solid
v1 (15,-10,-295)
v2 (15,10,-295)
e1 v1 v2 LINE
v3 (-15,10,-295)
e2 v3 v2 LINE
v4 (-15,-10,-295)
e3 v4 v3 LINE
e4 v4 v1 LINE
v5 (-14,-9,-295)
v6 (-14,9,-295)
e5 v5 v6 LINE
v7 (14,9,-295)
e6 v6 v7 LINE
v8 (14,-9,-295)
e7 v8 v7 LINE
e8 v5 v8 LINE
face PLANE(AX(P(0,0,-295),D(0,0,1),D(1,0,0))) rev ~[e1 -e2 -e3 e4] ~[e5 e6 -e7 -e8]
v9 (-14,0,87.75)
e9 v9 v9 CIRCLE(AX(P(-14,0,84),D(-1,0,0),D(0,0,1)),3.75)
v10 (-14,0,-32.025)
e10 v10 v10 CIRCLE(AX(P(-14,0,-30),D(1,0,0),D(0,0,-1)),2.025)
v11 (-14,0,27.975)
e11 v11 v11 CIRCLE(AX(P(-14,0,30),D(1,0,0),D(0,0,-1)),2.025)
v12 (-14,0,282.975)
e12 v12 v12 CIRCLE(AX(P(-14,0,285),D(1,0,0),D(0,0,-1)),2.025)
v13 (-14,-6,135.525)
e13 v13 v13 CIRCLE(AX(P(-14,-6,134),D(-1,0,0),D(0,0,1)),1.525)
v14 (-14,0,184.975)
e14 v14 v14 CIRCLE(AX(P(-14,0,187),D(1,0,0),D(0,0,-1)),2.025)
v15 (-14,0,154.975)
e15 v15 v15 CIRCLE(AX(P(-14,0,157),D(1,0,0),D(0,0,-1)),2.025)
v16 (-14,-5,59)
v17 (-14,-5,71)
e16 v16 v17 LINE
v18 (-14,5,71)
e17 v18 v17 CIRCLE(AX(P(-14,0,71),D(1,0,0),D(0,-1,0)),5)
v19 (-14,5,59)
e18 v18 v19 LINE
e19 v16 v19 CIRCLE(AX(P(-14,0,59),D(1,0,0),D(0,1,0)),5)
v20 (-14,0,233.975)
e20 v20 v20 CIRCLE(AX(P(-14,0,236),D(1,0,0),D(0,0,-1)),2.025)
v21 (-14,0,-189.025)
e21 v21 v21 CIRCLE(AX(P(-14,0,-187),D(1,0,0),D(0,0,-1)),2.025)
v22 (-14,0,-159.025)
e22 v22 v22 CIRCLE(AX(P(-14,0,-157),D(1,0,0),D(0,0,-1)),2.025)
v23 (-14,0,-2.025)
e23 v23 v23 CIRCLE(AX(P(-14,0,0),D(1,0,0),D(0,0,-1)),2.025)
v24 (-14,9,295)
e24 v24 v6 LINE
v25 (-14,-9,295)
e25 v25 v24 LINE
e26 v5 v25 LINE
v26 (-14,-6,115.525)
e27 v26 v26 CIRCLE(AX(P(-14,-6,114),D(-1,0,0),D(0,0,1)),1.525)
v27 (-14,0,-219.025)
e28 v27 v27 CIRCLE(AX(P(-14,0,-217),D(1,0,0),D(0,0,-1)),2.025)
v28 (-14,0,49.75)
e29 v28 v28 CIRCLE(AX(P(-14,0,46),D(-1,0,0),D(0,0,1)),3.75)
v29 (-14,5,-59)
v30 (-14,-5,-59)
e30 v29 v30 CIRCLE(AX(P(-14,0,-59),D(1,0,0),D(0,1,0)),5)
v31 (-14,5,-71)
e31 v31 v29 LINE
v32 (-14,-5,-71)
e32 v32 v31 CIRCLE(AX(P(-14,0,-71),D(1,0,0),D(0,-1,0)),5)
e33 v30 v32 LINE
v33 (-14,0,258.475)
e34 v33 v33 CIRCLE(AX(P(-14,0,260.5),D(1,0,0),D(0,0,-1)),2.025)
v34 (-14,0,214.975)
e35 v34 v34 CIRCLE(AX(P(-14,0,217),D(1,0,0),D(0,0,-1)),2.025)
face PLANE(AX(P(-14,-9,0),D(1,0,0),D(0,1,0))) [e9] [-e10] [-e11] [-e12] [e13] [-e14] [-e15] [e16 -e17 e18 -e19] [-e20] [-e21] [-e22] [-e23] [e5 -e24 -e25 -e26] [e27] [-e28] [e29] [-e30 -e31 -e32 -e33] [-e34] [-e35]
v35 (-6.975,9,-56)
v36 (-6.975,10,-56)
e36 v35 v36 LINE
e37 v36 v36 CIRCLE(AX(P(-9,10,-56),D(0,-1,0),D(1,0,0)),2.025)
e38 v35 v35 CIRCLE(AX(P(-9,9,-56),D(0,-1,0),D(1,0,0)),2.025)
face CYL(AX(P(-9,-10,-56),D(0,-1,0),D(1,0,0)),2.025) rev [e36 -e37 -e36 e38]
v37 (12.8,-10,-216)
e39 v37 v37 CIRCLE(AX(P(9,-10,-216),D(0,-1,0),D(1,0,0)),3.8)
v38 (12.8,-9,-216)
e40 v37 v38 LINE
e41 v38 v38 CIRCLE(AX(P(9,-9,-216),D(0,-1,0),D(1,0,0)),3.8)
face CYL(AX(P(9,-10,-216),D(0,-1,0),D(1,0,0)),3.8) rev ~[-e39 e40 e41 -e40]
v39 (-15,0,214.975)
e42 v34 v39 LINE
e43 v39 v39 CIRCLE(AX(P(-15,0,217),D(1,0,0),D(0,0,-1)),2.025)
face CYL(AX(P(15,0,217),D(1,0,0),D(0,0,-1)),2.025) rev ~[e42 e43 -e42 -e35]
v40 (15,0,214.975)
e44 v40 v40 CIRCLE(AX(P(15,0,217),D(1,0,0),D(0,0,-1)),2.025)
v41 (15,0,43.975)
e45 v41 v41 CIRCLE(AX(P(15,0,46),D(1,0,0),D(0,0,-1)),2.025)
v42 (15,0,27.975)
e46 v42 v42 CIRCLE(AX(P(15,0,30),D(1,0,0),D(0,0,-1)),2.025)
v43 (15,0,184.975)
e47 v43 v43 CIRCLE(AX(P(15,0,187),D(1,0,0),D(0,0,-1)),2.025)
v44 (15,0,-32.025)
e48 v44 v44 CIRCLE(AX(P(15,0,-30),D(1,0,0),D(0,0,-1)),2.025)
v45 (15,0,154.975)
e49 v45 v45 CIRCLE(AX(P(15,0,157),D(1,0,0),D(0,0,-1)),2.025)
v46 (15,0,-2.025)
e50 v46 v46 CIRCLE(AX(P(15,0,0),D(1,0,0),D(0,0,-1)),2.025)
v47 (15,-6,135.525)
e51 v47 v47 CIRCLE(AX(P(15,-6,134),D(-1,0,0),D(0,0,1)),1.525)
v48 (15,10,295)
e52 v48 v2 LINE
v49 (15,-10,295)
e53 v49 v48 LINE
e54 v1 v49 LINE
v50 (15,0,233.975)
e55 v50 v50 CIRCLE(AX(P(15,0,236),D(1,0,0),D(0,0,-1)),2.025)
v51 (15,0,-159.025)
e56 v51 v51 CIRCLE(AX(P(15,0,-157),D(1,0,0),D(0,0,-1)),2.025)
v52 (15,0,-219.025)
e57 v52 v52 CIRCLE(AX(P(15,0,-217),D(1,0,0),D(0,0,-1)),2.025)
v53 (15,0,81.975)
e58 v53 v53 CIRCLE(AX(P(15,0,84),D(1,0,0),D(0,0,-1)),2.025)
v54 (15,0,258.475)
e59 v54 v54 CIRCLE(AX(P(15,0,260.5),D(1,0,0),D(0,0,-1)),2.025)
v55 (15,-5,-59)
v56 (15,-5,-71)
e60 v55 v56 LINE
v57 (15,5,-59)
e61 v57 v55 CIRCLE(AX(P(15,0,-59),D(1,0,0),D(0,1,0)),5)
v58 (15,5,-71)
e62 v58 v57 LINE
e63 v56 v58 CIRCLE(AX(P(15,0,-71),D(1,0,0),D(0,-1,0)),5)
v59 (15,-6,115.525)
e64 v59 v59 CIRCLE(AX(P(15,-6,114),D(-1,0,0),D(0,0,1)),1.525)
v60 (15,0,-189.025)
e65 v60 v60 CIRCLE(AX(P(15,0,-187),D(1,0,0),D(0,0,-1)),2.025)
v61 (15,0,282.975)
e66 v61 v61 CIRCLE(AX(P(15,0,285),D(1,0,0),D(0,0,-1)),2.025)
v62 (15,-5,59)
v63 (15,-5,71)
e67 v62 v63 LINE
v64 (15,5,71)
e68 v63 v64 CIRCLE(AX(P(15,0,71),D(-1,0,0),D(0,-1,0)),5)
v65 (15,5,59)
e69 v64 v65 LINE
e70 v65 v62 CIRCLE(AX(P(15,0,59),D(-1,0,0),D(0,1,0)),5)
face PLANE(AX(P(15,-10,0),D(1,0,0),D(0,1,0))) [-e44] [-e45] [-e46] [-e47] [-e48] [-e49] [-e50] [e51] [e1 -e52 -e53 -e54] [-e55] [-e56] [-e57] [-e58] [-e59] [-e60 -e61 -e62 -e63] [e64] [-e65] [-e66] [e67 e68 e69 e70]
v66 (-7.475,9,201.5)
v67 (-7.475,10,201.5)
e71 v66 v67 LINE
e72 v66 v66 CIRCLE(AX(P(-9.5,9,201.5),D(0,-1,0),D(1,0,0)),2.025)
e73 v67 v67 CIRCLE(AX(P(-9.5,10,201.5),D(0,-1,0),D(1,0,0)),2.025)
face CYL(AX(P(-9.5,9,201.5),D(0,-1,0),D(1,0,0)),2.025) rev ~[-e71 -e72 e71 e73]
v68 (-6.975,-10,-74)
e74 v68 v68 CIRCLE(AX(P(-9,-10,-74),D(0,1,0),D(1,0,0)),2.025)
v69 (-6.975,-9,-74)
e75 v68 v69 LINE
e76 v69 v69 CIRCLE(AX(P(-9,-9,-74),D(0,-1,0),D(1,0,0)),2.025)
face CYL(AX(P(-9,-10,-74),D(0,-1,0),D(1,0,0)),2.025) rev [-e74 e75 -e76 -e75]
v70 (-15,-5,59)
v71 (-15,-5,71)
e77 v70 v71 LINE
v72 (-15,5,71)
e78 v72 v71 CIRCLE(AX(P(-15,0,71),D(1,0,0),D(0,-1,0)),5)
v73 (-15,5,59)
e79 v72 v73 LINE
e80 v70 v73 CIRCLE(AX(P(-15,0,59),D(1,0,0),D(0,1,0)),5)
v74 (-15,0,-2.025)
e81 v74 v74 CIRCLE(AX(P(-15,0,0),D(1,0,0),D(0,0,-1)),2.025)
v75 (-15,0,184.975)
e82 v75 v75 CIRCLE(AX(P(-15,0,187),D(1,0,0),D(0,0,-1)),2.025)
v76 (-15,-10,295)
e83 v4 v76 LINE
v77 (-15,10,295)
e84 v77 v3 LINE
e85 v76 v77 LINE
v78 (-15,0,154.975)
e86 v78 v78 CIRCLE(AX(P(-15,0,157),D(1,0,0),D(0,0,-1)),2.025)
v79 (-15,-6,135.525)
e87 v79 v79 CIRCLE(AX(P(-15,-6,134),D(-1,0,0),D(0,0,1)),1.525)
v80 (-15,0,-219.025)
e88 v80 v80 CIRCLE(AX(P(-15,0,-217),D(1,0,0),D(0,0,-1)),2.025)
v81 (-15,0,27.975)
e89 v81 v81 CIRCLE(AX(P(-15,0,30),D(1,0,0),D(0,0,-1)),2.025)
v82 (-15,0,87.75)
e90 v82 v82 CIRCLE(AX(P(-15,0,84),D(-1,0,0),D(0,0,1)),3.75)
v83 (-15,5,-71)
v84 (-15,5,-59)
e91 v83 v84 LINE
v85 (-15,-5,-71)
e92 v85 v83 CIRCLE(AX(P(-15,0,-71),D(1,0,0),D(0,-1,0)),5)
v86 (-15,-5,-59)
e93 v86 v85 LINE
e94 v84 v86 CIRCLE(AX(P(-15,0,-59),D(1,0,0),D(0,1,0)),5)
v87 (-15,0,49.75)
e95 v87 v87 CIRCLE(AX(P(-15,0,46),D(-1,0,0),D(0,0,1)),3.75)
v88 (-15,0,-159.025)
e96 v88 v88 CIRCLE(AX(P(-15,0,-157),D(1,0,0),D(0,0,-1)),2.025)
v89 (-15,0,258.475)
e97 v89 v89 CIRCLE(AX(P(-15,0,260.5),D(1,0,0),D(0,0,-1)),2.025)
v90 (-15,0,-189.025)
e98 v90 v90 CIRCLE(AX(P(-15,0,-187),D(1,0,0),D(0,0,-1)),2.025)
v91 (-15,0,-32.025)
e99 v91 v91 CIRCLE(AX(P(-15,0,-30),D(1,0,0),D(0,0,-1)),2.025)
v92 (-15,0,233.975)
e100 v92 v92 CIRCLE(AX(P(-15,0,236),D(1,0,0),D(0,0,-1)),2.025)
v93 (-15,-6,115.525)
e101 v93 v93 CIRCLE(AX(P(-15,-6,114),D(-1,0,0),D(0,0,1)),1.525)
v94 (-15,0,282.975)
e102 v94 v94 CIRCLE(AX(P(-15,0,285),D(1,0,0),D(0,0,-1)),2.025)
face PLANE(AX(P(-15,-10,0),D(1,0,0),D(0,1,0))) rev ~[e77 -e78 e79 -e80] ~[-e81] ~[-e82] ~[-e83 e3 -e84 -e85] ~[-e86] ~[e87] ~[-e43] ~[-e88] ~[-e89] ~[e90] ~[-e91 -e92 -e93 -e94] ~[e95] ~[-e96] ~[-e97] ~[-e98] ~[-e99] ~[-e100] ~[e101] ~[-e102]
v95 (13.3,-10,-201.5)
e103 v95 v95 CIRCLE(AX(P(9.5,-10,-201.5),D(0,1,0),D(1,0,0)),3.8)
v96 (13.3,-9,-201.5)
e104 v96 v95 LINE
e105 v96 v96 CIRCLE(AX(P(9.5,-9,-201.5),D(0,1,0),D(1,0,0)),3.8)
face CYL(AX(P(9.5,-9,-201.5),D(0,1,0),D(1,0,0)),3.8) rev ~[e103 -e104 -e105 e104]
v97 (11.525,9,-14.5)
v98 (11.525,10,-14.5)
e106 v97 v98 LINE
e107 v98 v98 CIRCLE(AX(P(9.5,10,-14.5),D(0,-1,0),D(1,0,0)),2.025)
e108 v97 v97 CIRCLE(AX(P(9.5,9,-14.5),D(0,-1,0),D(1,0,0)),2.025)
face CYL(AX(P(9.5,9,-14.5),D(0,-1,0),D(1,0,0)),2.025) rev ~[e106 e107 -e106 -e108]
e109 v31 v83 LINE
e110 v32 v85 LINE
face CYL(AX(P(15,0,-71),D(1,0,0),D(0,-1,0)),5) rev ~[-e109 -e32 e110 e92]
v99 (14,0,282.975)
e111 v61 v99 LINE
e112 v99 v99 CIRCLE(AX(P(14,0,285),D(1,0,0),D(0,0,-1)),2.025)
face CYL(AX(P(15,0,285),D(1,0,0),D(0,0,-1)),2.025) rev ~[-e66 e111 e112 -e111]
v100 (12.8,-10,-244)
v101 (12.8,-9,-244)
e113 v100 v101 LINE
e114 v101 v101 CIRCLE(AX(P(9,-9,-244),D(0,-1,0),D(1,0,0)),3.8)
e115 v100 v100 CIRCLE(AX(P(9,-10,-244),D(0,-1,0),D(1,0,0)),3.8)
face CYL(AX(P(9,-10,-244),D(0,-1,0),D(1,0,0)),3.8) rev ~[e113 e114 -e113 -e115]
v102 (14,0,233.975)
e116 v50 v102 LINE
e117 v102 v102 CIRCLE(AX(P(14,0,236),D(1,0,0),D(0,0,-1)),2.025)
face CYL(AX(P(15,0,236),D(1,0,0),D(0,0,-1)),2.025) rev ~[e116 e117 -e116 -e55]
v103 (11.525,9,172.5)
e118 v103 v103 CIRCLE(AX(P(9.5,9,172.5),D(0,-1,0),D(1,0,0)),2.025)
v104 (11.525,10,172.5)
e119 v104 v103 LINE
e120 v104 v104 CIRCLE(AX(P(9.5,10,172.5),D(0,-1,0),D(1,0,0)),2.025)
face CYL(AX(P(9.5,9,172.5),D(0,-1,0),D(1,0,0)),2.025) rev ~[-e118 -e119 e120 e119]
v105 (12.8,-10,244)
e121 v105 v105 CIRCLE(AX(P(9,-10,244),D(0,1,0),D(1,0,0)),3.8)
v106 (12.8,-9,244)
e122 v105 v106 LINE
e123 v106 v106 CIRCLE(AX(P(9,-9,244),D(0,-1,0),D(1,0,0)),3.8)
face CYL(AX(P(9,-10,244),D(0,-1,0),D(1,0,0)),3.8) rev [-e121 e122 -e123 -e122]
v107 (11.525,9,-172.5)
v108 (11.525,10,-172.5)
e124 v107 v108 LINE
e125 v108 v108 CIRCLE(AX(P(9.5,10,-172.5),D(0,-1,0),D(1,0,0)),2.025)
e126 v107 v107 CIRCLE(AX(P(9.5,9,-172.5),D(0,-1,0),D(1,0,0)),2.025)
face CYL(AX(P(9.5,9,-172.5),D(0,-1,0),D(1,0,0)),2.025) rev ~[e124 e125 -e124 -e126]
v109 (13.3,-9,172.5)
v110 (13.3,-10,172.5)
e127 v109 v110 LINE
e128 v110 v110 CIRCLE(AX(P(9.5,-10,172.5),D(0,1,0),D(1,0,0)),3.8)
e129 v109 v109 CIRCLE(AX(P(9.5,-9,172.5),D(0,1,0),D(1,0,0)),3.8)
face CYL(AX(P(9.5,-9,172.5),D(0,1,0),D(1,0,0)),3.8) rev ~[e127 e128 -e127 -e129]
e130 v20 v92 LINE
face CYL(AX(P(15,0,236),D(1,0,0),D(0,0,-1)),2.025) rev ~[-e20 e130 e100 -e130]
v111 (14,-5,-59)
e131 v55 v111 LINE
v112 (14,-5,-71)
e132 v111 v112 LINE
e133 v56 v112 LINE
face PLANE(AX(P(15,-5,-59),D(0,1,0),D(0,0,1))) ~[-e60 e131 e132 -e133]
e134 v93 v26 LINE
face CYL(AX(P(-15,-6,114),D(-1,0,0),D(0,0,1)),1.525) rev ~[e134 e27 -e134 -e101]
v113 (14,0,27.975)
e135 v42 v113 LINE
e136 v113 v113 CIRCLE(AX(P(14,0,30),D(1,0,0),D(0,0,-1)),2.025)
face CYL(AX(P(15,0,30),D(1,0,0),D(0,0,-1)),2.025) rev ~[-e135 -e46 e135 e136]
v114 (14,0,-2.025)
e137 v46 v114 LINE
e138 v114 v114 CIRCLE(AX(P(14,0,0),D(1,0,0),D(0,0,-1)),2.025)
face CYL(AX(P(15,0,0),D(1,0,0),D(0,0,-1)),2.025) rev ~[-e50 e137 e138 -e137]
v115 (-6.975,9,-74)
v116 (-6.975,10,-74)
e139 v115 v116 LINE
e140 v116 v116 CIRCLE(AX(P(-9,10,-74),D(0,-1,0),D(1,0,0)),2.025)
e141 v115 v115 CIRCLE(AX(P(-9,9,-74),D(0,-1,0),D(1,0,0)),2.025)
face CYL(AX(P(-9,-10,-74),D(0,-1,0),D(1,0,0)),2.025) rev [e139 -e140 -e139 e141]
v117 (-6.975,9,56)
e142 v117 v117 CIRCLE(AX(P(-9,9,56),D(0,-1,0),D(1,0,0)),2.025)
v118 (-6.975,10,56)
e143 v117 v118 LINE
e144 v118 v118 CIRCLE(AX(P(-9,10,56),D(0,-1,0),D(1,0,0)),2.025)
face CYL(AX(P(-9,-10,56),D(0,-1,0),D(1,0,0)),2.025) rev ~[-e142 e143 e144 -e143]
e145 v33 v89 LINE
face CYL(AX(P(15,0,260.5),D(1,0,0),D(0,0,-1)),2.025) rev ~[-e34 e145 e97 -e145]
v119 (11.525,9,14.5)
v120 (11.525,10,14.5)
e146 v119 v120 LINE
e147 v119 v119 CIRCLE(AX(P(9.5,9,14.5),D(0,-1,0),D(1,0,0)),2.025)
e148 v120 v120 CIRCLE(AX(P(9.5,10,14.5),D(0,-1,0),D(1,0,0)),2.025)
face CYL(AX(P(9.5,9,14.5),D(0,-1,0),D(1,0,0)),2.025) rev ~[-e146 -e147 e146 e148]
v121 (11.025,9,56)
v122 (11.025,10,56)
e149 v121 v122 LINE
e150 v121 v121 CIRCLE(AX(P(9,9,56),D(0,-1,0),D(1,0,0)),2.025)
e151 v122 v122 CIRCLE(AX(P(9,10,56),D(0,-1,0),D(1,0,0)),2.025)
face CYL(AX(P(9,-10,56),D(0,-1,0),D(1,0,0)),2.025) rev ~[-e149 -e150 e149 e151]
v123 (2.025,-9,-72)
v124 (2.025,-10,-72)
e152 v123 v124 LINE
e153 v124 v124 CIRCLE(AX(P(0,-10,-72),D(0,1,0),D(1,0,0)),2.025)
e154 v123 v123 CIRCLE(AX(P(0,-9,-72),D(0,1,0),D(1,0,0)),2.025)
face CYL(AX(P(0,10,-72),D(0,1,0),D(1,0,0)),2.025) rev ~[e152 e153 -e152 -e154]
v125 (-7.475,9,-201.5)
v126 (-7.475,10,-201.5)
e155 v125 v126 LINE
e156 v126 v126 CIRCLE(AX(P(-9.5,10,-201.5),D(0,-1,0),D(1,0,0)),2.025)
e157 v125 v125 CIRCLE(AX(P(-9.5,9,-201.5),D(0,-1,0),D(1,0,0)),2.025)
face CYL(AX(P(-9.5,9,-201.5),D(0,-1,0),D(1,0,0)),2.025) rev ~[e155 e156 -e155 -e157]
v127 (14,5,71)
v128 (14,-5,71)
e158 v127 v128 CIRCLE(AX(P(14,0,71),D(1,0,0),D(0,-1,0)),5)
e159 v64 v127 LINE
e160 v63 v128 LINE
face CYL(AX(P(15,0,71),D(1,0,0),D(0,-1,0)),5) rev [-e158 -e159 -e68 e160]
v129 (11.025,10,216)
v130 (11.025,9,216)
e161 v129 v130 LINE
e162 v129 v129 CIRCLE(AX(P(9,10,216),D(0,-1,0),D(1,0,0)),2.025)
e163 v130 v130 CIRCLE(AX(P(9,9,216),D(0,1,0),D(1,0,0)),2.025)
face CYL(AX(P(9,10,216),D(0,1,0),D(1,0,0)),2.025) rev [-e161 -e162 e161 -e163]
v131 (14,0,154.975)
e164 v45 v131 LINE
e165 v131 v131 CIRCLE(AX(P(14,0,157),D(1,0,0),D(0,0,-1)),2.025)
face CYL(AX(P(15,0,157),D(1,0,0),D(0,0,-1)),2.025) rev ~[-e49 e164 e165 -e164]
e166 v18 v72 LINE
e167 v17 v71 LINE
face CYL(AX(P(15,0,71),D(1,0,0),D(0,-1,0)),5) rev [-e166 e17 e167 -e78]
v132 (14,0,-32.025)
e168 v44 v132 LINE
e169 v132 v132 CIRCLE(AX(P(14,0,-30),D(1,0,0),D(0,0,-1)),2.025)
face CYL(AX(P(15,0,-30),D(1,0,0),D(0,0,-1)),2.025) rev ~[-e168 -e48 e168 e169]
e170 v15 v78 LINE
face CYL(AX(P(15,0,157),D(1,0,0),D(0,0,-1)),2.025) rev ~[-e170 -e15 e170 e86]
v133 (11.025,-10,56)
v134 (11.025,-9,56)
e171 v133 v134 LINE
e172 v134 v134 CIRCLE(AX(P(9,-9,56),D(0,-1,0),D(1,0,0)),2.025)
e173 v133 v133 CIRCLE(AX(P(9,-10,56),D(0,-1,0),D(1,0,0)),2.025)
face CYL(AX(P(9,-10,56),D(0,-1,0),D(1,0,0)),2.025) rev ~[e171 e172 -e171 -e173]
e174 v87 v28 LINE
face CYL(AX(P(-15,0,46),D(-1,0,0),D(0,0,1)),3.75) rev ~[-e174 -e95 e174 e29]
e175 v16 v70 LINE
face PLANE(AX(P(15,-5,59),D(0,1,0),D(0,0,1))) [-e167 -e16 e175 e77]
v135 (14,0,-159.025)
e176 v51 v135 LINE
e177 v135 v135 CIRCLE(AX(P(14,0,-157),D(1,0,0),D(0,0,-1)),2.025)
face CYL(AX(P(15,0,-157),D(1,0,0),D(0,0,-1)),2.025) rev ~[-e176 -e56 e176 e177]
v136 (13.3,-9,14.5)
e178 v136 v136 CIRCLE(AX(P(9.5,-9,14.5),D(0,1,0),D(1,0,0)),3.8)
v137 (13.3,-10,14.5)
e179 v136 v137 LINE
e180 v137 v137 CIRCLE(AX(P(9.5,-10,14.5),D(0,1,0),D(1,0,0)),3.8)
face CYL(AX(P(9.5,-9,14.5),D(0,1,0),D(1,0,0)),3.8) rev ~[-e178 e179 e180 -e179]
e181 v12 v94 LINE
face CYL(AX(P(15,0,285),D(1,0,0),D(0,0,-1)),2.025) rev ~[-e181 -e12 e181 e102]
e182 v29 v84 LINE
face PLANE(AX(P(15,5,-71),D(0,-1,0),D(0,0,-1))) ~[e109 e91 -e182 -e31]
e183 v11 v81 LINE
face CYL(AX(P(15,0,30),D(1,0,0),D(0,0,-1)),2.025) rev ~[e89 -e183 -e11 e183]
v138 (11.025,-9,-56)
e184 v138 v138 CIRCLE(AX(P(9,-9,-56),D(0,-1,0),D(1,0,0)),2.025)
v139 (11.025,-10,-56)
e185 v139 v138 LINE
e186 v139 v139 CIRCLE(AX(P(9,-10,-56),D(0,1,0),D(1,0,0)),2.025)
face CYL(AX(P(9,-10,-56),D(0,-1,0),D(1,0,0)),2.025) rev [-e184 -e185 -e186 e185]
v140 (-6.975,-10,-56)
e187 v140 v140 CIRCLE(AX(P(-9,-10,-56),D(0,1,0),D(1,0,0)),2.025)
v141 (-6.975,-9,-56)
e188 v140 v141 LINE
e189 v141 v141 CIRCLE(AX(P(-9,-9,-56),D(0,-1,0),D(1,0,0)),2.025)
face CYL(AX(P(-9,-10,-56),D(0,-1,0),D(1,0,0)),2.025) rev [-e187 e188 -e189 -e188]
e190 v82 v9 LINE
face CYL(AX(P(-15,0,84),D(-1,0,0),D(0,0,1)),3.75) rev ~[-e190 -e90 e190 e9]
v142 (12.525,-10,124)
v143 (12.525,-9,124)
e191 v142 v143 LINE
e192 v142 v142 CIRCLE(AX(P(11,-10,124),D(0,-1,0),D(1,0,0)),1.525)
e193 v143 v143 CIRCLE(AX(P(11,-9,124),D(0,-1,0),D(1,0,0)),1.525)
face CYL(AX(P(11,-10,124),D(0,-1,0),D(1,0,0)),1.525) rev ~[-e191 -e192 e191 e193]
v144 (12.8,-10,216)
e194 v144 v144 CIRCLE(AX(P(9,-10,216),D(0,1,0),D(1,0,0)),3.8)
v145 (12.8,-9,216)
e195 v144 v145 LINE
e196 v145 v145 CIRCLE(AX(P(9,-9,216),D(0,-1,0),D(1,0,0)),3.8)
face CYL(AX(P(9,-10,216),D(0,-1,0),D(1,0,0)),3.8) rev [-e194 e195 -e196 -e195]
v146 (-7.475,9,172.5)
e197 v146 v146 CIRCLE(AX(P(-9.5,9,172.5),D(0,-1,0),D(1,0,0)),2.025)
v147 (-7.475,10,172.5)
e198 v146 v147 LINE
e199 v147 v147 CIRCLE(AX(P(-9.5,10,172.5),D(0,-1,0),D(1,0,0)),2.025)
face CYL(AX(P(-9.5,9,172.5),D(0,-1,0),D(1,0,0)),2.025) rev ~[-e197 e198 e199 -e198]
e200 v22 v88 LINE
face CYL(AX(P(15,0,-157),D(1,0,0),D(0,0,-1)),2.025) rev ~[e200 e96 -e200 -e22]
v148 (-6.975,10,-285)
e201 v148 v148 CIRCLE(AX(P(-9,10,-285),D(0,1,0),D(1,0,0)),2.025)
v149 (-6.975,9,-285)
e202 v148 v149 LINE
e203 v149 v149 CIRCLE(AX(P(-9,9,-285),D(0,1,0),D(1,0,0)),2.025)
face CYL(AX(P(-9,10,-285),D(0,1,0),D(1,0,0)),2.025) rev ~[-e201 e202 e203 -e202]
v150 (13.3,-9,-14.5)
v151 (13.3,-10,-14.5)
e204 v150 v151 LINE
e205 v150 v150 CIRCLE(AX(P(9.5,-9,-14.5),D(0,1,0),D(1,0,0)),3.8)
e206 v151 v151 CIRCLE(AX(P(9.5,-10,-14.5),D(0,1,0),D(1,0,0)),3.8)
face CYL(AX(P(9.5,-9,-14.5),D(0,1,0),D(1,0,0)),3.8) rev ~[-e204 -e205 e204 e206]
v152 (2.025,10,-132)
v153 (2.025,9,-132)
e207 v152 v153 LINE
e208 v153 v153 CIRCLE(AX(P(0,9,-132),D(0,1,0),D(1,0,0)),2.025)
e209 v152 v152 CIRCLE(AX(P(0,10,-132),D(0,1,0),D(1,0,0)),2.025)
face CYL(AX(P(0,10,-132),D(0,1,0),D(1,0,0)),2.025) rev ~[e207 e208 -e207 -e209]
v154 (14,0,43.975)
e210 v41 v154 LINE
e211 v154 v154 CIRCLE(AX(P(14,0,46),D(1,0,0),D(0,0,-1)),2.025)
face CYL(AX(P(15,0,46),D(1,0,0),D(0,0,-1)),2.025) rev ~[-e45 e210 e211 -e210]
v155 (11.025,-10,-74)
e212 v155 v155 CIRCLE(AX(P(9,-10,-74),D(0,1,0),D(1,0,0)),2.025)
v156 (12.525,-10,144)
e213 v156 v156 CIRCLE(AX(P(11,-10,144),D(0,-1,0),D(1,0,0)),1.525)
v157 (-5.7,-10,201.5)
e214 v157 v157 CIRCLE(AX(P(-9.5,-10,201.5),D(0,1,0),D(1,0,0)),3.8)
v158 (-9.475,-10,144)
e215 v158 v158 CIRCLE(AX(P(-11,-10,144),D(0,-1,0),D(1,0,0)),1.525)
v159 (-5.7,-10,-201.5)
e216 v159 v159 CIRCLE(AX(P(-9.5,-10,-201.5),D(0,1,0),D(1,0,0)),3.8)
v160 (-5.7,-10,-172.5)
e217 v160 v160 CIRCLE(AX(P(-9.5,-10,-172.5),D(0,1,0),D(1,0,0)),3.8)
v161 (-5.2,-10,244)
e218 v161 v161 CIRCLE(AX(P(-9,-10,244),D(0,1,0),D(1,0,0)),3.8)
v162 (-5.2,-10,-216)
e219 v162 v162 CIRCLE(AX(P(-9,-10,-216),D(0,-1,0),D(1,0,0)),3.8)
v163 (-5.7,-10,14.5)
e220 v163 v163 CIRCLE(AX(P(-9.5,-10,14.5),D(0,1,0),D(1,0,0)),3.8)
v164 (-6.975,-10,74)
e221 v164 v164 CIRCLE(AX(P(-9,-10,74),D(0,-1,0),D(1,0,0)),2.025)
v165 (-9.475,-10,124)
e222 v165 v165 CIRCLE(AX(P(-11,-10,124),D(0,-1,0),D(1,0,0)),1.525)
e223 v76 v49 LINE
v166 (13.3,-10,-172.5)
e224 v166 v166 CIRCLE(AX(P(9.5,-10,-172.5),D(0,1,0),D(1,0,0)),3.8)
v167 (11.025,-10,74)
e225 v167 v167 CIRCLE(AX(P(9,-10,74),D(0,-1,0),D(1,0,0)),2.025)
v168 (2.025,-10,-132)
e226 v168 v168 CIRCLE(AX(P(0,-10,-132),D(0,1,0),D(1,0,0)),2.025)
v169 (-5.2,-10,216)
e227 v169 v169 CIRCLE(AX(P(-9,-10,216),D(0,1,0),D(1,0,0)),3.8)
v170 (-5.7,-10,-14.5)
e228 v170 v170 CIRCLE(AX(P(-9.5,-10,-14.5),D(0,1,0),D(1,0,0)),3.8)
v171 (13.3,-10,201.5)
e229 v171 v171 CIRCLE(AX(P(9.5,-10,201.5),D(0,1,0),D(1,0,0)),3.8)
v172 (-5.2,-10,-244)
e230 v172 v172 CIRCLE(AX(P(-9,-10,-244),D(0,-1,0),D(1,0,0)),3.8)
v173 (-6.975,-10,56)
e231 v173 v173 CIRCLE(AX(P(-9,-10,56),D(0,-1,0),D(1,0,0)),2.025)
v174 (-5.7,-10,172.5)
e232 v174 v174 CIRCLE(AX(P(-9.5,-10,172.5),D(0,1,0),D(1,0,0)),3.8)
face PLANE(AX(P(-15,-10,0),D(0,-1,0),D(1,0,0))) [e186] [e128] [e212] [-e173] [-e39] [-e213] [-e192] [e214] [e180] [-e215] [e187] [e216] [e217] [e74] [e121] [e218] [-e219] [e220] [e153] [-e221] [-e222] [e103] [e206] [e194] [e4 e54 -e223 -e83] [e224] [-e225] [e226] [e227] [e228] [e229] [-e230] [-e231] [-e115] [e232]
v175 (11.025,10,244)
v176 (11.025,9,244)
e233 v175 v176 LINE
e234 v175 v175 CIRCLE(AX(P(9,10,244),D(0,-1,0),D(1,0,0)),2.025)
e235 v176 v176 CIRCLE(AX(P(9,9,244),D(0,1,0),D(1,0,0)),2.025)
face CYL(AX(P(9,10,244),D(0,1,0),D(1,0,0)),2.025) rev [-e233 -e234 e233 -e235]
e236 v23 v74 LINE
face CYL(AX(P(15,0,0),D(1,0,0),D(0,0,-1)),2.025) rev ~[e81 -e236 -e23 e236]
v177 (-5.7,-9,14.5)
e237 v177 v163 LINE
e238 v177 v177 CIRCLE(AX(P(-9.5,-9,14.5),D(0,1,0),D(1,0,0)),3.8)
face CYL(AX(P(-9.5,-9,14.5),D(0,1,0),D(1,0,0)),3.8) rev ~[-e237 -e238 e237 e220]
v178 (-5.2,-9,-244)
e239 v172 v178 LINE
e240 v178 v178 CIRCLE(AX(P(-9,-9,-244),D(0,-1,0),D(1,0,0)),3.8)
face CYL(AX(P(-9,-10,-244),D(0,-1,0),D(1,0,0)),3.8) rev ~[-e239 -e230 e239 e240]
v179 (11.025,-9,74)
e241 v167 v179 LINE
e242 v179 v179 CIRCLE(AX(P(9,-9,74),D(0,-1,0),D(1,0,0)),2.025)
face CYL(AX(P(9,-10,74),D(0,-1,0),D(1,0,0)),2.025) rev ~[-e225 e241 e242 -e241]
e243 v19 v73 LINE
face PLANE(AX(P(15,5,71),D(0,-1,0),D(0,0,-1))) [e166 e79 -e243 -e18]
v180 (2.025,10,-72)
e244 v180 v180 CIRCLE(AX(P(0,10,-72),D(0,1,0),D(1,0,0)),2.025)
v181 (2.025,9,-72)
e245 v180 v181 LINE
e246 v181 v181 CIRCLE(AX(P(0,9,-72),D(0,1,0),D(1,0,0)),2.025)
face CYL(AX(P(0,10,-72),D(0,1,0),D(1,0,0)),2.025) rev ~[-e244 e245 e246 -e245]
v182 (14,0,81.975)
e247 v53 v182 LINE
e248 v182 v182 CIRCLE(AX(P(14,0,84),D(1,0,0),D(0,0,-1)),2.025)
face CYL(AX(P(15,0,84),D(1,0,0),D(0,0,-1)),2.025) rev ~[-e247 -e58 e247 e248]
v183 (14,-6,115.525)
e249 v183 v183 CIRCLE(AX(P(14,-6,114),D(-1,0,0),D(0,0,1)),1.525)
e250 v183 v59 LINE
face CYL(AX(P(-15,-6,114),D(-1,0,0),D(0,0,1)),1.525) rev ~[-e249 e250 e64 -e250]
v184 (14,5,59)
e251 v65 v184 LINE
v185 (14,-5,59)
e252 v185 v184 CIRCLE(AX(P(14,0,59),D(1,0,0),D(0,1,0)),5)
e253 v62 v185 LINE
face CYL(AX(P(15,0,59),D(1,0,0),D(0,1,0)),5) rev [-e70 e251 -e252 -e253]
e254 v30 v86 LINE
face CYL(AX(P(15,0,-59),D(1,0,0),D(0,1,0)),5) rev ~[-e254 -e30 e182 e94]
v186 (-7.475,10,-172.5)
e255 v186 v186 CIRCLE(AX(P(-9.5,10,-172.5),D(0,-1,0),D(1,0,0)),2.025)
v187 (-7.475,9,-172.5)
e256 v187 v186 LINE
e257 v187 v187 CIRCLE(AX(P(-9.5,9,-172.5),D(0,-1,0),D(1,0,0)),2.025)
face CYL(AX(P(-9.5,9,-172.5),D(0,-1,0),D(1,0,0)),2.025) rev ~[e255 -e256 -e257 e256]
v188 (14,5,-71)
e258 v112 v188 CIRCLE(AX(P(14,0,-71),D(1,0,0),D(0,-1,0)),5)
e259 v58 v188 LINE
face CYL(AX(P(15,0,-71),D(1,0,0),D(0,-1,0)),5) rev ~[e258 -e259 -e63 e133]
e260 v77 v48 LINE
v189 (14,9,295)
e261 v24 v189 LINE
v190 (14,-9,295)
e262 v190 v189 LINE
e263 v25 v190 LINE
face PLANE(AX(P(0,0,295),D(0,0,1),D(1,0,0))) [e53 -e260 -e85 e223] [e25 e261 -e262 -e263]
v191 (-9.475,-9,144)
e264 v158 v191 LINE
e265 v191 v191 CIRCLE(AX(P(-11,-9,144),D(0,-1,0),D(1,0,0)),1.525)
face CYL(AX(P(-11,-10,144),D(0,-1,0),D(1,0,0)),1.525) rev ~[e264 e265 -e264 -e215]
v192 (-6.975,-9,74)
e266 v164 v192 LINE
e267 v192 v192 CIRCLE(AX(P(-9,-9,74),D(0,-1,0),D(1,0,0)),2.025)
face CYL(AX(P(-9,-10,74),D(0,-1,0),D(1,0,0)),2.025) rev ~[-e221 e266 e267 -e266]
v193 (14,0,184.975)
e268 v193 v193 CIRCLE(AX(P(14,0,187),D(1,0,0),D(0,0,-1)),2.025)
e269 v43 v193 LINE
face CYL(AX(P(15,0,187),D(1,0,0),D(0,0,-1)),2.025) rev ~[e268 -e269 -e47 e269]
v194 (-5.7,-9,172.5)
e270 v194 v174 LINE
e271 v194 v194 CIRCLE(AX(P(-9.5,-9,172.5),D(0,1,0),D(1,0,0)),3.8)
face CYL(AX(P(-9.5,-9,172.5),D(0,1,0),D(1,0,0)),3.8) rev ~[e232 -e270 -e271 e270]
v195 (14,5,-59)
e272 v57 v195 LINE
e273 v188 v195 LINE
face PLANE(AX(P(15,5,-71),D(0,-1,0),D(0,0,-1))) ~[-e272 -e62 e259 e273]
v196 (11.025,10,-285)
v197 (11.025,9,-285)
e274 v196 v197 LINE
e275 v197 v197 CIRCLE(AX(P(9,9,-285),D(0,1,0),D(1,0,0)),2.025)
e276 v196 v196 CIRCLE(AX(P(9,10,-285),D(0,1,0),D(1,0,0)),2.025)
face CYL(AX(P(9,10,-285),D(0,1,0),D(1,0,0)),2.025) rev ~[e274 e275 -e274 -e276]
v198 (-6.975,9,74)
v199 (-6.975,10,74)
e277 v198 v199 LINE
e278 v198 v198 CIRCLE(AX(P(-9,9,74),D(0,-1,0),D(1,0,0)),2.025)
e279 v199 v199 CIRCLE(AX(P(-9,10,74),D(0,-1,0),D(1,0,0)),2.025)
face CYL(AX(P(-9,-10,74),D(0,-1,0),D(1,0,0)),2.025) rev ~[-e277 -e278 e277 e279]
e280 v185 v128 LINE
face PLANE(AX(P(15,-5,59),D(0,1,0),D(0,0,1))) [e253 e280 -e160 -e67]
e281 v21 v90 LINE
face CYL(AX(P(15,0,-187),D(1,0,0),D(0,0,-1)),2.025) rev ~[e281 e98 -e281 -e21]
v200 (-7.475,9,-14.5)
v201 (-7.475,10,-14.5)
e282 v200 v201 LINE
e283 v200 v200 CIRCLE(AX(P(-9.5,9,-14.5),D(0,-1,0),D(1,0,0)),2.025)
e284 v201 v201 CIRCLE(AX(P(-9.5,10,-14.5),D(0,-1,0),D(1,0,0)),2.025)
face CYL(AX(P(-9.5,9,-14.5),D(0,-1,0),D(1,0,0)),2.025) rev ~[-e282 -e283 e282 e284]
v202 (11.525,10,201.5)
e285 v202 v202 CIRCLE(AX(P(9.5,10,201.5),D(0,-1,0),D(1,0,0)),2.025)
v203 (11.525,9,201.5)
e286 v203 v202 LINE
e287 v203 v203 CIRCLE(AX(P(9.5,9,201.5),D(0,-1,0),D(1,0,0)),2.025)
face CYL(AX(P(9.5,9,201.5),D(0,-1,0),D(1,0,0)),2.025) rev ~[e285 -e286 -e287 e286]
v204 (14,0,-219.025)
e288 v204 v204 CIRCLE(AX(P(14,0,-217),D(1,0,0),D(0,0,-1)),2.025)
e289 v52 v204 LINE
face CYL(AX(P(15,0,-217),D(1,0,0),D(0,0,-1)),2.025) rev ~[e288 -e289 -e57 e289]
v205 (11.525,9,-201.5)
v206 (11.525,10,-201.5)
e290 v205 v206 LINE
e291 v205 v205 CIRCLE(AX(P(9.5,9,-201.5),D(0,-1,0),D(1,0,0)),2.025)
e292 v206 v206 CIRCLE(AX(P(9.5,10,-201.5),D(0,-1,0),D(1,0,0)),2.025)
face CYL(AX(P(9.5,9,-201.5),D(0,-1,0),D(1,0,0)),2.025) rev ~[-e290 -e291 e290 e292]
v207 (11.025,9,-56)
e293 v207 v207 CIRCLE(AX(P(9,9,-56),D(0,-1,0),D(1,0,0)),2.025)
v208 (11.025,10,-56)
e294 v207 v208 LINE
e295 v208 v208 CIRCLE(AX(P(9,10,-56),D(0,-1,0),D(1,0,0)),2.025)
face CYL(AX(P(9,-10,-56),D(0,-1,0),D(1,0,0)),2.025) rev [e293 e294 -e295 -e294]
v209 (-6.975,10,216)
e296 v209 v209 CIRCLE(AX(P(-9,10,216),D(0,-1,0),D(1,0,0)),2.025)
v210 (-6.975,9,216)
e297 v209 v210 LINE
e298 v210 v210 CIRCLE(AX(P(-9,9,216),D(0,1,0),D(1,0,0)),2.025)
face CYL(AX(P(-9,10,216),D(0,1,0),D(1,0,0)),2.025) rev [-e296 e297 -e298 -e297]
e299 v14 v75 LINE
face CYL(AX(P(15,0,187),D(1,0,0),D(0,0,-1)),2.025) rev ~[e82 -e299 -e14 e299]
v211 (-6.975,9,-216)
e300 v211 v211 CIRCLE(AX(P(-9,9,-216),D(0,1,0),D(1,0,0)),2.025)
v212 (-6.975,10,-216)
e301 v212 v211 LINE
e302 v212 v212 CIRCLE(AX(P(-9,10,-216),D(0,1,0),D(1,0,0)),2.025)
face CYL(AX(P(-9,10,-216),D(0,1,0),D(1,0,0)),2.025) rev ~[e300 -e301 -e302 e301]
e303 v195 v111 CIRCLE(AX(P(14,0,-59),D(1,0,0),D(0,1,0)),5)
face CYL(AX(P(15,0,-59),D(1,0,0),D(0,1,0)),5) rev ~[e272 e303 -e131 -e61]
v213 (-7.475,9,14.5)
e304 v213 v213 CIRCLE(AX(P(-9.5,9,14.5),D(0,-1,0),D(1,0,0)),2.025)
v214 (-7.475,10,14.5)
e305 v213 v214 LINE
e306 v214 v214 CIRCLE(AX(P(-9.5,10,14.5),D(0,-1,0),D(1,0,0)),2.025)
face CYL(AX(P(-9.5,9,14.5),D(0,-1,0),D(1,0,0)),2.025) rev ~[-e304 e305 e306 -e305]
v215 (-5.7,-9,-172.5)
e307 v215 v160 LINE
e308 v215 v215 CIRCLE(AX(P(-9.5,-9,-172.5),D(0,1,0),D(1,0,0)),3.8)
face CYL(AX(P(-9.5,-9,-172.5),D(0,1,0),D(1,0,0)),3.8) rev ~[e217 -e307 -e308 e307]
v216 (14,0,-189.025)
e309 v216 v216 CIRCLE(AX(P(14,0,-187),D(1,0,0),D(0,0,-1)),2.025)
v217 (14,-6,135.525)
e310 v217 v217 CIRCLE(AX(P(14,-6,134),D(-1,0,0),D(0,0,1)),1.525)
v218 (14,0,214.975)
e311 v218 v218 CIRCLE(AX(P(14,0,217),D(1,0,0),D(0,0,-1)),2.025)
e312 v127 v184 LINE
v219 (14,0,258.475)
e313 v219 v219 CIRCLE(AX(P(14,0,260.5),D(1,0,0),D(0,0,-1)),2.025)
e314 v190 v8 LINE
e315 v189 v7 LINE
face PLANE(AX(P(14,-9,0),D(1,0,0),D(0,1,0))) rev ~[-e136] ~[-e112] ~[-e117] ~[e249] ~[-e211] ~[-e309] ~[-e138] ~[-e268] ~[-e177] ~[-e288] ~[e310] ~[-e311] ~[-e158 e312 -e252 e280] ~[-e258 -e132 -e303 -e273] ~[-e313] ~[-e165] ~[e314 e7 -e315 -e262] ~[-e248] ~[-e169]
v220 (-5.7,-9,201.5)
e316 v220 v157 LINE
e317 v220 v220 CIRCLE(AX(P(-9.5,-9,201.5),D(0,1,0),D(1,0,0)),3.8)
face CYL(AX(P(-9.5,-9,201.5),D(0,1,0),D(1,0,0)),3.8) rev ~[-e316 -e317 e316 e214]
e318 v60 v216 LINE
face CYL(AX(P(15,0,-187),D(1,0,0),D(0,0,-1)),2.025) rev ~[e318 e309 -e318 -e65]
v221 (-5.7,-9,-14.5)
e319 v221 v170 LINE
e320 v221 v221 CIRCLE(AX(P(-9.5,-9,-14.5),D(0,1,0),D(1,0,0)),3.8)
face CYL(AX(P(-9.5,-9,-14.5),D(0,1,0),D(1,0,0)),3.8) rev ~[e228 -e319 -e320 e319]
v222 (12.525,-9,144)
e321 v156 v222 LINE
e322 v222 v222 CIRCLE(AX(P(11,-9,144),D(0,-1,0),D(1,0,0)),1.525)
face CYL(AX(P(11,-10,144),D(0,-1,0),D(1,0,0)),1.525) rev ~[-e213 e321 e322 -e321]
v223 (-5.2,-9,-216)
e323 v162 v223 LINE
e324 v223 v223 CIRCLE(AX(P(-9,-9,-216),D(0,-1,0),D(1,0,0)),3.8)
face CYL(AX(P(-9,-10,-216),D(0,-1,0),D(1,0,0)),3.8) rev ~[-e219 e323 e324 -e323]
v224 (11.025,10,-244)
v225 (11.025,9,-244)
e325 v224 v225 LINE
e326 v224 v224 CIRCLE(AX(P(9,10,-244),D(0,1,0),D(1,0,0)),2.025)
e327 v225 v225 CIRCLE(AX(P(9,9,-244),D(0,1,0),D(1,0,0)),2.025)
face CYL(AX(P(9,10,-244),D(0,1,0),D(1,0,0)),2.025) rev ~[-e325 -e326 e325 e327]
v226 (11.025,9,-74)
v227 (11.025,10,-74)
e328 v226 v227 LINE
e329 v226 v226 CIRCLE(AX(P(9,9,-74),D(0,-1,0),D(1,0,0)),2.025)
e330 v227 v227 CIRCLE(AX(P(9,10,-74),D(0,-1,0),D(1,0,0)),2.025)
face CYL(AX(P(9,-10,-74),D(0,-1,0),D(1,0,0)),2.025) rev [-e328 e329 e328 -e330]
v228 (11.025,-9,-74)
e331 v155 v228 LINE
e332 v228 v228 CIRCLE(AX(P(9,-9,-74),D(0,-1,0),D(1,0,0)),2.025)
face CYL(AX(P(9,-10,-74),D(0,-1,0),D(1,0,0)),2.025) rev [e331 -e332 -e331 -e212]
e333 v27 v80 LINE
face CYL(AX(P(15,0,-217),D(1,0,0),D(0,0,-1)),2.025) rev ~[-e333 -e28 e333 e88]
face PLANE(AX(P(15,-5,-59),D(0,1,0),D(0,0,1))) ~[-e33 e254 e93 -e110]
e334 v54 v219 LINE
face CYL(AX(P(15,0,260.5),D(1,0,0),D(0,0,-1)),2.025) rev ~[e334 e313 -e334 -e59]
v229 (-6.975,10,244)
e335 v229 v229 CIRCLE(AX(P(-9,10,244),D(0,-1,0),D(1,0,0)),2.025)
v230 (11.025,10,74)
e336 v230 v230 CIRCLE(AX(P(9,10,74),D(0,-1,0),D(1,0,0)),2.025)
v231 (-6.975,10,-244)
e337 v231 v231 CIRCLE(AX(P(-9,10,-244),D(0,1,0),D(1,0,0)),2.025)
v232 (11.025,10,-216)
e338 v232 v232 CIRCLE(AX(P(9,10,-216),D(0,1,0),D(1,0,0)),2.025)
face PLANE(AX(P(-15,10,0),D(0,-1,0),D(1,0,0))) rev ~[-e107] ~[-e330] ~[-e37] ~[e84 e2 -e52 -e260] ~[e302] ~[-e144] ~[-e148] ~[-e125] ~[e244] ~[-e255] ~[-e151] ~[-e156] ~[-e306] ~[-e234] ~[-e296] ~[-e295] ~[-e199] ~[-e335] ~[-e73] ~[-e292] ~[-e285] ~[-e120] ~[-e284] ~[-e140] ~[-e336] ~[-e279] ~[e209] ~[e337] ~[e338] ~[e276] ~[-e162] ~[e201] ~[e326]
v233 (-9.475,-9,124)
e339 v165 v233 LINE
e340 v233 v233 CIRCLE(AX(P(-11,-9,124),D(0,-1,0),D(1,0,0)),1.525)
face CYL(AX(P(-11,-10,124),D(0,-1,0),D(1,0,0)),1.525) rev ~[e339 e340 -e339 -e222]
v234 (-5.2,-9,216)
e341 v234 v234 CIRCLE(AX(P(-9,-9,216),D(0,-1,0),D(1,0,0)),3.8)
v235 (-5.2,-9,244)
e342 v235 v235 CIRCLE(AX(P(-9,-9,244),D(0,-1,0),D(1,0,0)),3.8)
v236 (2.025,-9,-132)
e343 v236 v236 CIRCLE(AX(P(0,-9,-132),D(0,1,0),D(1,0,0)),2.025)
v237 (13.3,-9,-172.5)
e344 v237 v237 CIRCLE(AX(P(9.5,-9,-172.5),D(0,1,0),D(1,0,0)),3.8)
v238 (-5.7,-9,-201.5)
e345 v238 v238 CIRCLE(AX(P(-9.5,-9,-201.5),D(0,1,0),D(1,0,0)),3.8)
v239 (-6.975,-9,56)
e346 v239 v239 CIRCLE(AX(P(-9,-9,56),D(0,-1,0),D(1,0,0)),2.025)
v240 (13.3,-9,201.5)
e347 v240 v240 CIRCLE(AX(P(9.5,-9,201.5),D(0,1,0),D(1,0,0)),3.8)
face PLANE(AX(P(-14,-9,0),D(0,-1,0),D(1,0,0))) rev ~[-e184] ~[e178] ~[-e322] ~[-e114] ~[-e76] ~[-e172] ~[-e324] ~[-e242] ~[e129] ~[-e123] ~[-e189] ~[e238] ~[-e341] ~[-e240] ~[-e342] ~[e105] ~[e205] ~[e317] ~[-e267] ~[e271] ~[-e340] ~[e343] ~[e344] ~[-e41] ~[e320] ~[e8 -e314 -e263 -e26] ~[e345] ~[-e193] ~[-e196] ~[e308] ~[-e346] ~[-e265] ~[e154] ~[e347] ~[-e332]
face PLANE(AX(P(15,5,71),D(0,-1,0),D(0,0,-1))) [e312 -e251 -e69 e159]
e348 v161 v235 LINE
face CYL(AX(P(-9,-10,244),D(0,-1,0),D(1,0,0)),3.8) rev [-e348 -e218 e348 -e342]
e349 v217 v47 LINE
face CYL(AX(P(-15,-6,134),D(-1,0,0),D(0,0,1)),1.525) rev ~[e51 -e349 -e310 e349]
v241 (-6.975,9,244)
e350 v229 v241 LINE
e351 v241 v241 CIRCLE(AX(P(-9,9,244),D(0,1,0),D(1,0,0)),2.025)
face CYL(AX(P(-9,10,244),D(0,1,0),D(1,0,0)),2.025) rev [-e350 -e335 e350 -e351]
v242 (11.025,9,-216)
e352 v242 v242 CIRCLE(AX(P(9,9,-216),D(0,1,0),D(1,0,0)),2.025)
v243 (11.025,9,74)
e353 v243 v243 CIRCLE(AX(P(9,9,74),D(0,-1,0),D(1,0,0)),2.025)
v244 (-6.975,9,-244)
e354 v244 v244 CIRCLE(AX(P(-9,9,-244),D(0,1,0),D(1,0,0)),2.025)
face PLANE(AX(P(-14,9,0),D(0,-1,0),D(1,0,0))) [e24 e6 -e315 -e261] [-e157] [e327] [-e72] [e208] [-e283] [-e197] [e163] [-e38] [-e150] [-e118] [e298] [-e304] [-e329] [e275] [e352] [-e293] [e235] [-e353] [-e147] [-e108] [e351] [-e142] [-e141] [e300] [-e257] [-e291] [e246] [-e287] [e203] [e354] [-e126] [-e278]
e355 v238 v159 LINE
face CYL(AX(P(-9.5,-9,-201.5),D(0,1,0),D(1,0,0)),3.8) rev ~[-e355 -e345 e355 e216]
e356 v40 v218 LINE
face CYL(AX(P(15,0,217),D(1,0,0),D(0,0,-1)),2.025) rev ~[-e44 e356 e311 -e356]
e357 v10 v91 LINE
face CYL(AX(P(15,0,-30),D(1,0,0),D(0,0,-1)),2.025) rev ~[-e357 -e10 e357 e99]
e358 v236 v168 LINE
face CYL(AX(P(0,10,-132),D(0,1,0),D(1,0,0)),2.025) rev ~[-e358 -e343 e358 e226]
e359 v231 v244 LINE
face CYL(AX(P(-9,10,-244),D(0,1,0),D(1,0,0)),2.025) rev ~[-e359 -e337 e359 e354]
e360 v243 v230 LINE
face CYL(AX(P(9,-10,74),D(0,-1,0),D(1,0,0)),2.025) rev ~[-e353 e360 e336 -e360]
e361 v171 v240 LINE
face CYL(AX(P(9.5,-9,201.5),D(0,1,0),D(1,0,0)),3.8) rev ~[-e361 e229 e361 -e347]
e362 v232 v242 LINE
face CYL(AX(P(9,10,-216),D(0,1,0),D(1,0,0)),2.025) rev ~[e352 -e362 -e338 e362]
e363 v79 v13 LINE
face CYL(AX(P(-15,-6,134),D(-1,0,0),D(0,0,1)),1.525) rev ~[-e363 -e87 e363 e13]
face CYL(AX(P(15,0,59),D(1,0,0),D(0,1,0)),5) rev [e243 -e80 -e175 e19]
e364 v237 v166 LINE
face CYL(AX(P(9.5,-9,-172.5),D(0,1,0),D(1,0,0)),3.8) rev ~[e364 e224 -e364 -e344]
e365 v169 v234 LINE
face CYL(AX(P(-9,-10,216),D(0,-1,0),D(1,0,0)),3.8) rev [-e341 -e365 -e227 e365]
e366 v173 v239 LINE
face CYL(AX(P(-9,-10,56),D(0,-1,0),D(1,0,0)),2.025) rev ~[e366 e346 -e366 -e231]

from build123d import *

# Parameters (mm, degrees)
SKETCH_1_W           = 30
SKETCH_1_H           = 20
SKETCH_1_W_2         = 28
SKETCH_1_H_2         = 18
EXTRUDE_1_DEPTH      = 295
SKETCH_5_R           = 2.025
CUT_EXTRUDE_4_DEPTH  = 5
SKETCH_7_R           = 3.8
CUT_EXTRUDE_5_DEPTH  = 5
SKETCH_11_R          = 2.025
CUT_EXTRUDE_9_DEPTH  = 113
SKETCH_18_R          = 2.025
CUT_EXTRUDE_16_DEPTH = 90
SKETCH_21_R          = 2.025
CUT_EXTRUDE_19_DEPTH = 126
SKETCH_22_R          = 2.025
CUT_EXTRUDE_20_DEPTH = 10
SKETCH_26_R          = 1.525
CUT_EXTRUDE_24_DEPTH = 10
SKETCH_27_R          = 1.525
CUT_EXTRUDE_25_DEPTH = 100
CUT_EXTRUDE_26_DEPTH = 100
SKETCH_31_R          = 2.025
CUT_EXTRUDE_29_DEPTH = 50
SKETCH_32_R          = 3.75
CUT_EXTRUDE_30_DEPTH = 10
SKETCH_36_R          = 2.025
CUT_EXTRUDE_33_DEPTH = 37
SKETCH_37_R          = 3.8
CUT_EXTRUDE_34_DEPTH = 10


with BuildPart() as part:
    # 草图1 → 凸台-拉伸1 (new, symmetric)
    with BuildSketch(Plane.XY):
        Rectangle(SKETCH_1_W, SKETCH_1_H)
        Rectangle(SKETCH_1_W_2, SKETCH_1_H_2, mode=Mode.SUBTRACT)
    extrude(amount=EXTRUDE_1_DEPTH, both=True)

    # 草图5 → 切除-拉伸4 (cut, symmetric)
    with BuildSketch(Plane.XZ.offset(-9)):
        with Locations((-9.5, -172.5)):
            Circle(SKETCH_5_R)
        with Locations((9.5, -172.5)):
            Circle(SKETCH_5_R)
        with Locations((-9.5, -201.5)):
            Circle(SKETCH_5_R)
        with Locations((9.5, -201.5)):
            Circle(SKETCH_5_R)
        with Locations((-9.5, -14.5)):
            Circle(SKETCH_5_R)
        with Locations((9.5, -14.5)):
            Circle(SKETCH_5_R)
        with Locations((-9.5, 14.5)):
            Circle(SKETCH_5_R)
        with Locations((9.5, 14.5)):
            Circle(SKETCH_5_R)
        with Locations((-9.5, 172.5)):
            Circle(SKETCH_5_R)
        with Locations((-9.5, 201.5)):
            Circle(SKETCH_5_R)
        with Locations((9.5, 201.5)):
            Circle(SKETCH_5_R)
        with Locations((9.5, 172.5)):
            Circle(SKETCH_5_R)
    extrude(amount=CUT_EXTRUDE_4_DEPTH, both=True, mode=Mode.SUBTRACT)

    # 草图7 → 切除-拉伸5 (cut, symmetric)
    with BuildSketch(Plane(origin=(0, -9, 0), x_dir=(1, 0, 0), z_dir=(0, 1, 0))):
        with Locations((-9.5, 201.5)):
            Circle(SKETCH_7_R)
        with Locations((9.5, 201.5)):
            Circle(SKETCH_7_R)
        with Locations((-9.5, 172.5)):
            Circle(SKETCH_7_R)
        with Locations((9.5, 172.5)):
            Circle(SKETCH_7_R)
        with Locations((-9.5, 14.5)):
            Circle(SKETCH_7_R)
        with Locations((9.5, 14.5)):
            Circle(SKETCH_7_R)
        with Locations((-9.5, -14.5)):
            Circle(SKETCH_7_R)
        with Locations((9.5, -14.5)):
            Circle(SKETCH_7_R)
        with Locations((-9.5, -172.5)):
            Circle(SKETCH_7_R)
        with Locations((9.5, -172.5)):
            Circle(SKETCH_7_R)
        with Locations((-9.5, -201.5)):
            Circle(SKETCH_7_R)
        with Locations((9.5, -201.5)):
            Circle(SKETCH_7_R)
    extrude(amount=CUT_EXTRUDE_5_DEPTH, both=True, mode=Mode.SUBTRACT)

    # 草图11 → 切除-拉伸9 (cut)
    with BuildSketch(Plane(origin=(15, 0, 0), x_dir=(0, 0, -1), z_dir=(1, 0, 0))):
        with Locations((217, 0)):
            Circle(SKETCH_11_R)
        with Locations((187, 0)):
            Circle(SKETCH_11_R)
        with Locations((157, 0)):
            Circle(SKETCH_11_R)
        with Locations((30, 0)):
            Circle(SKETCH_11_R)
        Circle(SKETCH_11_R)
        with Locations((-30, 0)):
            Circle(SKETCH_11_R)
        with Locations((-157, 0)):
            Circle(SKETCH_11_R)
        with Locations((-187, 0)):
            Circle(SKETCH_11_R)
        with Locations((-217, 0)):
            Circle(SKETCH_11_R)
        with Locations((-236, 0)):
            Circle(SKETCH_11_R)
        with Locations((-260.5, 0)):
            Circle(SKETCH_11_R)
        with Locations((-285, 0)):
            Circle(SKETCH_11_R)
    extrude(amount=-CUT_EXTRUDE_9_DEPTH, mode=Mode.SUBTRACT)

    # 草图18 → 切除-拉伸16 (cut)
    with BuildSketch(Plane.XZ.offset(10)):
        with Locations((-9, 74)):
            Circle(SKETCH_18_R)
        with Locations((9, 74)):
            Circle(SKETCH_18_R)
        with Locations((-9, 56)):
            Circle(SKETCH_18_R)
        with Locations((9, 56)):
            Circle(SKETCH_18_R)
    cut_extrude_16 = extrude(amount=-CUT_EXTRUDE_16_DEPTH, mode=Mode.SUBTRACT)

    # 镜向1: 切除-拉伸16 across plane
    add(cut_extrude_16.mirror(Plane.XY), mode=Mode.SUBTRACT)

    # 草图21 → 切除-拉伸19 (cut)
    with BuildSketch(Plane(origin=(15, 0, 0), x_dir=(0, 0, -1), z_dir=(1, 0, 0))):
        with Locations((-46, 0)):
            Circle(SKETCH_21_R)
        with Locations((-84, 0)):
            Circle(SKETCH_21_R)
    extrude(amount=-CUT_EXTRUDE_19_DEPTH, mode=Mode.SUBTRACT)

    # 草图22 → 切除-拉伸20 (cut)
    with BuildSketch(Plane(origin=(0, 10, 0), x_dir=(1, 0, 0), z_dir=(0, 1, 0))):
        with Locations((-9, 285)):
            Circle(SKETCH_22_R)
        with Locations((9, 285)):
            Circle(SKETCH_22_R)
    extrude(amount=-CUT_EXTRUDE_20_DEPTH, mode=Mode.SUBTRACT)

    # 草图26 → 切除-拉伸24 (cut)
    with BuildSketch(Plane.XZ.offset(10)):
        with Locations((-11, 124)):
            Circle(SKETCH_26_R)
        with Locations((-11, 144)):
            Circle(SKETCH_26_R)
        with Locations((11, 144)):
            Circle(SKETCH_26_R)
        with Locations((11, 124)):
            Circle(SKETCH_26_R)
    extrude(amount=-CUT_EXTRUDE_24_DEPTH, mode=Mode.SUBTRACT)

    # 草图27 → 切除-拉伸25 (cut)
    with BuildSketch(Plane.ZY.offset(15)):
        with Locations((134, -6)):
            Circle(SKETCH_27_R)
        with Locations((114, -6)):
            Circle(SKETCH_27_R)
    extrude(amount=-CUT_EXTRUDE_25_DEPTH, mode=Mode.SUBTRACT)

    # 草图28 → 切除-拉伸26 (cut)
    with BuildSketch(Plane(origin=(15, 0, 0), x_dir=(0, 0, -1), z_dir=(1, 0, 0))):
        with BuildLine():
            Line((-71, 5), (-59, 5))
            ThreePointArc((-59, 5), (-54, 0), (-59, -5))
            Line((-59, -5), (-71, -5))
            ThreePointArc((-71, -5), (-76, 0), (-71, 5))
        make_face()
    cut_extrude_26 = extrude(amount=-CUT_EXTRUDE_26_DEPTH, mode=Mode.SUBTRACT)

    # 镜向2: 切除-拉伸26 across plane
    add(cut_extrude_26.mirror(Plane.XY), mode=Mode.SUBTRACT)

    # 草图31 → 切除-拉伸29 (cut)
    with BuildSketch(Plane(origin=(0, 10, 0), x_dir=(1, 0, 0), z_dir=(0, 1, 0))):
        with Locations((0, 72)):
            Circle(SKETCH_31_R)
        with Locations((0, 132)):
            Circle(SKETCH_31_R)
    extrude(amount=-CUT_EXTRUDE_29_DEPTH, mode=Mode.SUBTRACT)

    # 草图32 → 切除-拉伸30 (cut)
    with BuildSketch(Plane.ZY.offset(15)):
        with Locations((46, 0)):
            Circle(SKETCH_32_R)
        with Locations((84, 0)):
            Circle(SKETCH_32_R)
    extrude(amount=-CUT_EXTRUDE_30_DEPTH, mode=Mode.SUBTRACT)

    # 草图36 → 切除-拉伸33 (cut)
    with BuildSketch(Plane(origin=(0, 10, 0), x_dir=(1, 0, 0), z_dir=(0, 1, 0))):
        with Locations((-9, 244)):
            Circle(SKETCH_36_R)
        with Locations((-9, 216)):
            Circle(SKETCH_36_R)
        with Locations((9, 216)):
            Circle(SKETCH_36_R)
        with Locations((9, 244)):
            Circle(SKETCH_36_R)
    cut_extrude_33 = extrude(amount=-CUT_EXTRUDE_33_DEPTH, mode=Mode.SUBTRACT)

    # 草图37 → 切除-拉伸34 (cut)
    with BuildSketch(Plane.XZ.offset(10)):
        with Locations((-9, -216)):
            Circle(SKETCH_37_R)
        with Locations((9, -216)):
            Circle(SKETCH_37_R)
        with Locations((-9, -244)):
            Circle(SKETCH_37_R)
        with Locations((9, -244)):
            Circle(SKETCH_37_R)
    cut_extrude_34 = extrude(amount=-CUT_EXTRUDE_34_DEPTH, mode=Mode.SUBTRACT)

    # 镜向3: 切除-拉伸33, 切除-拉伸34 across plane
    add(cut_extrude_33.mirror(Plane.XY), mode=Mode.SUBTRACT)
    add(cut_extrude_34.mirror(Plane.XY), mode=Mode.SUBTRACT)


solid = part.part
